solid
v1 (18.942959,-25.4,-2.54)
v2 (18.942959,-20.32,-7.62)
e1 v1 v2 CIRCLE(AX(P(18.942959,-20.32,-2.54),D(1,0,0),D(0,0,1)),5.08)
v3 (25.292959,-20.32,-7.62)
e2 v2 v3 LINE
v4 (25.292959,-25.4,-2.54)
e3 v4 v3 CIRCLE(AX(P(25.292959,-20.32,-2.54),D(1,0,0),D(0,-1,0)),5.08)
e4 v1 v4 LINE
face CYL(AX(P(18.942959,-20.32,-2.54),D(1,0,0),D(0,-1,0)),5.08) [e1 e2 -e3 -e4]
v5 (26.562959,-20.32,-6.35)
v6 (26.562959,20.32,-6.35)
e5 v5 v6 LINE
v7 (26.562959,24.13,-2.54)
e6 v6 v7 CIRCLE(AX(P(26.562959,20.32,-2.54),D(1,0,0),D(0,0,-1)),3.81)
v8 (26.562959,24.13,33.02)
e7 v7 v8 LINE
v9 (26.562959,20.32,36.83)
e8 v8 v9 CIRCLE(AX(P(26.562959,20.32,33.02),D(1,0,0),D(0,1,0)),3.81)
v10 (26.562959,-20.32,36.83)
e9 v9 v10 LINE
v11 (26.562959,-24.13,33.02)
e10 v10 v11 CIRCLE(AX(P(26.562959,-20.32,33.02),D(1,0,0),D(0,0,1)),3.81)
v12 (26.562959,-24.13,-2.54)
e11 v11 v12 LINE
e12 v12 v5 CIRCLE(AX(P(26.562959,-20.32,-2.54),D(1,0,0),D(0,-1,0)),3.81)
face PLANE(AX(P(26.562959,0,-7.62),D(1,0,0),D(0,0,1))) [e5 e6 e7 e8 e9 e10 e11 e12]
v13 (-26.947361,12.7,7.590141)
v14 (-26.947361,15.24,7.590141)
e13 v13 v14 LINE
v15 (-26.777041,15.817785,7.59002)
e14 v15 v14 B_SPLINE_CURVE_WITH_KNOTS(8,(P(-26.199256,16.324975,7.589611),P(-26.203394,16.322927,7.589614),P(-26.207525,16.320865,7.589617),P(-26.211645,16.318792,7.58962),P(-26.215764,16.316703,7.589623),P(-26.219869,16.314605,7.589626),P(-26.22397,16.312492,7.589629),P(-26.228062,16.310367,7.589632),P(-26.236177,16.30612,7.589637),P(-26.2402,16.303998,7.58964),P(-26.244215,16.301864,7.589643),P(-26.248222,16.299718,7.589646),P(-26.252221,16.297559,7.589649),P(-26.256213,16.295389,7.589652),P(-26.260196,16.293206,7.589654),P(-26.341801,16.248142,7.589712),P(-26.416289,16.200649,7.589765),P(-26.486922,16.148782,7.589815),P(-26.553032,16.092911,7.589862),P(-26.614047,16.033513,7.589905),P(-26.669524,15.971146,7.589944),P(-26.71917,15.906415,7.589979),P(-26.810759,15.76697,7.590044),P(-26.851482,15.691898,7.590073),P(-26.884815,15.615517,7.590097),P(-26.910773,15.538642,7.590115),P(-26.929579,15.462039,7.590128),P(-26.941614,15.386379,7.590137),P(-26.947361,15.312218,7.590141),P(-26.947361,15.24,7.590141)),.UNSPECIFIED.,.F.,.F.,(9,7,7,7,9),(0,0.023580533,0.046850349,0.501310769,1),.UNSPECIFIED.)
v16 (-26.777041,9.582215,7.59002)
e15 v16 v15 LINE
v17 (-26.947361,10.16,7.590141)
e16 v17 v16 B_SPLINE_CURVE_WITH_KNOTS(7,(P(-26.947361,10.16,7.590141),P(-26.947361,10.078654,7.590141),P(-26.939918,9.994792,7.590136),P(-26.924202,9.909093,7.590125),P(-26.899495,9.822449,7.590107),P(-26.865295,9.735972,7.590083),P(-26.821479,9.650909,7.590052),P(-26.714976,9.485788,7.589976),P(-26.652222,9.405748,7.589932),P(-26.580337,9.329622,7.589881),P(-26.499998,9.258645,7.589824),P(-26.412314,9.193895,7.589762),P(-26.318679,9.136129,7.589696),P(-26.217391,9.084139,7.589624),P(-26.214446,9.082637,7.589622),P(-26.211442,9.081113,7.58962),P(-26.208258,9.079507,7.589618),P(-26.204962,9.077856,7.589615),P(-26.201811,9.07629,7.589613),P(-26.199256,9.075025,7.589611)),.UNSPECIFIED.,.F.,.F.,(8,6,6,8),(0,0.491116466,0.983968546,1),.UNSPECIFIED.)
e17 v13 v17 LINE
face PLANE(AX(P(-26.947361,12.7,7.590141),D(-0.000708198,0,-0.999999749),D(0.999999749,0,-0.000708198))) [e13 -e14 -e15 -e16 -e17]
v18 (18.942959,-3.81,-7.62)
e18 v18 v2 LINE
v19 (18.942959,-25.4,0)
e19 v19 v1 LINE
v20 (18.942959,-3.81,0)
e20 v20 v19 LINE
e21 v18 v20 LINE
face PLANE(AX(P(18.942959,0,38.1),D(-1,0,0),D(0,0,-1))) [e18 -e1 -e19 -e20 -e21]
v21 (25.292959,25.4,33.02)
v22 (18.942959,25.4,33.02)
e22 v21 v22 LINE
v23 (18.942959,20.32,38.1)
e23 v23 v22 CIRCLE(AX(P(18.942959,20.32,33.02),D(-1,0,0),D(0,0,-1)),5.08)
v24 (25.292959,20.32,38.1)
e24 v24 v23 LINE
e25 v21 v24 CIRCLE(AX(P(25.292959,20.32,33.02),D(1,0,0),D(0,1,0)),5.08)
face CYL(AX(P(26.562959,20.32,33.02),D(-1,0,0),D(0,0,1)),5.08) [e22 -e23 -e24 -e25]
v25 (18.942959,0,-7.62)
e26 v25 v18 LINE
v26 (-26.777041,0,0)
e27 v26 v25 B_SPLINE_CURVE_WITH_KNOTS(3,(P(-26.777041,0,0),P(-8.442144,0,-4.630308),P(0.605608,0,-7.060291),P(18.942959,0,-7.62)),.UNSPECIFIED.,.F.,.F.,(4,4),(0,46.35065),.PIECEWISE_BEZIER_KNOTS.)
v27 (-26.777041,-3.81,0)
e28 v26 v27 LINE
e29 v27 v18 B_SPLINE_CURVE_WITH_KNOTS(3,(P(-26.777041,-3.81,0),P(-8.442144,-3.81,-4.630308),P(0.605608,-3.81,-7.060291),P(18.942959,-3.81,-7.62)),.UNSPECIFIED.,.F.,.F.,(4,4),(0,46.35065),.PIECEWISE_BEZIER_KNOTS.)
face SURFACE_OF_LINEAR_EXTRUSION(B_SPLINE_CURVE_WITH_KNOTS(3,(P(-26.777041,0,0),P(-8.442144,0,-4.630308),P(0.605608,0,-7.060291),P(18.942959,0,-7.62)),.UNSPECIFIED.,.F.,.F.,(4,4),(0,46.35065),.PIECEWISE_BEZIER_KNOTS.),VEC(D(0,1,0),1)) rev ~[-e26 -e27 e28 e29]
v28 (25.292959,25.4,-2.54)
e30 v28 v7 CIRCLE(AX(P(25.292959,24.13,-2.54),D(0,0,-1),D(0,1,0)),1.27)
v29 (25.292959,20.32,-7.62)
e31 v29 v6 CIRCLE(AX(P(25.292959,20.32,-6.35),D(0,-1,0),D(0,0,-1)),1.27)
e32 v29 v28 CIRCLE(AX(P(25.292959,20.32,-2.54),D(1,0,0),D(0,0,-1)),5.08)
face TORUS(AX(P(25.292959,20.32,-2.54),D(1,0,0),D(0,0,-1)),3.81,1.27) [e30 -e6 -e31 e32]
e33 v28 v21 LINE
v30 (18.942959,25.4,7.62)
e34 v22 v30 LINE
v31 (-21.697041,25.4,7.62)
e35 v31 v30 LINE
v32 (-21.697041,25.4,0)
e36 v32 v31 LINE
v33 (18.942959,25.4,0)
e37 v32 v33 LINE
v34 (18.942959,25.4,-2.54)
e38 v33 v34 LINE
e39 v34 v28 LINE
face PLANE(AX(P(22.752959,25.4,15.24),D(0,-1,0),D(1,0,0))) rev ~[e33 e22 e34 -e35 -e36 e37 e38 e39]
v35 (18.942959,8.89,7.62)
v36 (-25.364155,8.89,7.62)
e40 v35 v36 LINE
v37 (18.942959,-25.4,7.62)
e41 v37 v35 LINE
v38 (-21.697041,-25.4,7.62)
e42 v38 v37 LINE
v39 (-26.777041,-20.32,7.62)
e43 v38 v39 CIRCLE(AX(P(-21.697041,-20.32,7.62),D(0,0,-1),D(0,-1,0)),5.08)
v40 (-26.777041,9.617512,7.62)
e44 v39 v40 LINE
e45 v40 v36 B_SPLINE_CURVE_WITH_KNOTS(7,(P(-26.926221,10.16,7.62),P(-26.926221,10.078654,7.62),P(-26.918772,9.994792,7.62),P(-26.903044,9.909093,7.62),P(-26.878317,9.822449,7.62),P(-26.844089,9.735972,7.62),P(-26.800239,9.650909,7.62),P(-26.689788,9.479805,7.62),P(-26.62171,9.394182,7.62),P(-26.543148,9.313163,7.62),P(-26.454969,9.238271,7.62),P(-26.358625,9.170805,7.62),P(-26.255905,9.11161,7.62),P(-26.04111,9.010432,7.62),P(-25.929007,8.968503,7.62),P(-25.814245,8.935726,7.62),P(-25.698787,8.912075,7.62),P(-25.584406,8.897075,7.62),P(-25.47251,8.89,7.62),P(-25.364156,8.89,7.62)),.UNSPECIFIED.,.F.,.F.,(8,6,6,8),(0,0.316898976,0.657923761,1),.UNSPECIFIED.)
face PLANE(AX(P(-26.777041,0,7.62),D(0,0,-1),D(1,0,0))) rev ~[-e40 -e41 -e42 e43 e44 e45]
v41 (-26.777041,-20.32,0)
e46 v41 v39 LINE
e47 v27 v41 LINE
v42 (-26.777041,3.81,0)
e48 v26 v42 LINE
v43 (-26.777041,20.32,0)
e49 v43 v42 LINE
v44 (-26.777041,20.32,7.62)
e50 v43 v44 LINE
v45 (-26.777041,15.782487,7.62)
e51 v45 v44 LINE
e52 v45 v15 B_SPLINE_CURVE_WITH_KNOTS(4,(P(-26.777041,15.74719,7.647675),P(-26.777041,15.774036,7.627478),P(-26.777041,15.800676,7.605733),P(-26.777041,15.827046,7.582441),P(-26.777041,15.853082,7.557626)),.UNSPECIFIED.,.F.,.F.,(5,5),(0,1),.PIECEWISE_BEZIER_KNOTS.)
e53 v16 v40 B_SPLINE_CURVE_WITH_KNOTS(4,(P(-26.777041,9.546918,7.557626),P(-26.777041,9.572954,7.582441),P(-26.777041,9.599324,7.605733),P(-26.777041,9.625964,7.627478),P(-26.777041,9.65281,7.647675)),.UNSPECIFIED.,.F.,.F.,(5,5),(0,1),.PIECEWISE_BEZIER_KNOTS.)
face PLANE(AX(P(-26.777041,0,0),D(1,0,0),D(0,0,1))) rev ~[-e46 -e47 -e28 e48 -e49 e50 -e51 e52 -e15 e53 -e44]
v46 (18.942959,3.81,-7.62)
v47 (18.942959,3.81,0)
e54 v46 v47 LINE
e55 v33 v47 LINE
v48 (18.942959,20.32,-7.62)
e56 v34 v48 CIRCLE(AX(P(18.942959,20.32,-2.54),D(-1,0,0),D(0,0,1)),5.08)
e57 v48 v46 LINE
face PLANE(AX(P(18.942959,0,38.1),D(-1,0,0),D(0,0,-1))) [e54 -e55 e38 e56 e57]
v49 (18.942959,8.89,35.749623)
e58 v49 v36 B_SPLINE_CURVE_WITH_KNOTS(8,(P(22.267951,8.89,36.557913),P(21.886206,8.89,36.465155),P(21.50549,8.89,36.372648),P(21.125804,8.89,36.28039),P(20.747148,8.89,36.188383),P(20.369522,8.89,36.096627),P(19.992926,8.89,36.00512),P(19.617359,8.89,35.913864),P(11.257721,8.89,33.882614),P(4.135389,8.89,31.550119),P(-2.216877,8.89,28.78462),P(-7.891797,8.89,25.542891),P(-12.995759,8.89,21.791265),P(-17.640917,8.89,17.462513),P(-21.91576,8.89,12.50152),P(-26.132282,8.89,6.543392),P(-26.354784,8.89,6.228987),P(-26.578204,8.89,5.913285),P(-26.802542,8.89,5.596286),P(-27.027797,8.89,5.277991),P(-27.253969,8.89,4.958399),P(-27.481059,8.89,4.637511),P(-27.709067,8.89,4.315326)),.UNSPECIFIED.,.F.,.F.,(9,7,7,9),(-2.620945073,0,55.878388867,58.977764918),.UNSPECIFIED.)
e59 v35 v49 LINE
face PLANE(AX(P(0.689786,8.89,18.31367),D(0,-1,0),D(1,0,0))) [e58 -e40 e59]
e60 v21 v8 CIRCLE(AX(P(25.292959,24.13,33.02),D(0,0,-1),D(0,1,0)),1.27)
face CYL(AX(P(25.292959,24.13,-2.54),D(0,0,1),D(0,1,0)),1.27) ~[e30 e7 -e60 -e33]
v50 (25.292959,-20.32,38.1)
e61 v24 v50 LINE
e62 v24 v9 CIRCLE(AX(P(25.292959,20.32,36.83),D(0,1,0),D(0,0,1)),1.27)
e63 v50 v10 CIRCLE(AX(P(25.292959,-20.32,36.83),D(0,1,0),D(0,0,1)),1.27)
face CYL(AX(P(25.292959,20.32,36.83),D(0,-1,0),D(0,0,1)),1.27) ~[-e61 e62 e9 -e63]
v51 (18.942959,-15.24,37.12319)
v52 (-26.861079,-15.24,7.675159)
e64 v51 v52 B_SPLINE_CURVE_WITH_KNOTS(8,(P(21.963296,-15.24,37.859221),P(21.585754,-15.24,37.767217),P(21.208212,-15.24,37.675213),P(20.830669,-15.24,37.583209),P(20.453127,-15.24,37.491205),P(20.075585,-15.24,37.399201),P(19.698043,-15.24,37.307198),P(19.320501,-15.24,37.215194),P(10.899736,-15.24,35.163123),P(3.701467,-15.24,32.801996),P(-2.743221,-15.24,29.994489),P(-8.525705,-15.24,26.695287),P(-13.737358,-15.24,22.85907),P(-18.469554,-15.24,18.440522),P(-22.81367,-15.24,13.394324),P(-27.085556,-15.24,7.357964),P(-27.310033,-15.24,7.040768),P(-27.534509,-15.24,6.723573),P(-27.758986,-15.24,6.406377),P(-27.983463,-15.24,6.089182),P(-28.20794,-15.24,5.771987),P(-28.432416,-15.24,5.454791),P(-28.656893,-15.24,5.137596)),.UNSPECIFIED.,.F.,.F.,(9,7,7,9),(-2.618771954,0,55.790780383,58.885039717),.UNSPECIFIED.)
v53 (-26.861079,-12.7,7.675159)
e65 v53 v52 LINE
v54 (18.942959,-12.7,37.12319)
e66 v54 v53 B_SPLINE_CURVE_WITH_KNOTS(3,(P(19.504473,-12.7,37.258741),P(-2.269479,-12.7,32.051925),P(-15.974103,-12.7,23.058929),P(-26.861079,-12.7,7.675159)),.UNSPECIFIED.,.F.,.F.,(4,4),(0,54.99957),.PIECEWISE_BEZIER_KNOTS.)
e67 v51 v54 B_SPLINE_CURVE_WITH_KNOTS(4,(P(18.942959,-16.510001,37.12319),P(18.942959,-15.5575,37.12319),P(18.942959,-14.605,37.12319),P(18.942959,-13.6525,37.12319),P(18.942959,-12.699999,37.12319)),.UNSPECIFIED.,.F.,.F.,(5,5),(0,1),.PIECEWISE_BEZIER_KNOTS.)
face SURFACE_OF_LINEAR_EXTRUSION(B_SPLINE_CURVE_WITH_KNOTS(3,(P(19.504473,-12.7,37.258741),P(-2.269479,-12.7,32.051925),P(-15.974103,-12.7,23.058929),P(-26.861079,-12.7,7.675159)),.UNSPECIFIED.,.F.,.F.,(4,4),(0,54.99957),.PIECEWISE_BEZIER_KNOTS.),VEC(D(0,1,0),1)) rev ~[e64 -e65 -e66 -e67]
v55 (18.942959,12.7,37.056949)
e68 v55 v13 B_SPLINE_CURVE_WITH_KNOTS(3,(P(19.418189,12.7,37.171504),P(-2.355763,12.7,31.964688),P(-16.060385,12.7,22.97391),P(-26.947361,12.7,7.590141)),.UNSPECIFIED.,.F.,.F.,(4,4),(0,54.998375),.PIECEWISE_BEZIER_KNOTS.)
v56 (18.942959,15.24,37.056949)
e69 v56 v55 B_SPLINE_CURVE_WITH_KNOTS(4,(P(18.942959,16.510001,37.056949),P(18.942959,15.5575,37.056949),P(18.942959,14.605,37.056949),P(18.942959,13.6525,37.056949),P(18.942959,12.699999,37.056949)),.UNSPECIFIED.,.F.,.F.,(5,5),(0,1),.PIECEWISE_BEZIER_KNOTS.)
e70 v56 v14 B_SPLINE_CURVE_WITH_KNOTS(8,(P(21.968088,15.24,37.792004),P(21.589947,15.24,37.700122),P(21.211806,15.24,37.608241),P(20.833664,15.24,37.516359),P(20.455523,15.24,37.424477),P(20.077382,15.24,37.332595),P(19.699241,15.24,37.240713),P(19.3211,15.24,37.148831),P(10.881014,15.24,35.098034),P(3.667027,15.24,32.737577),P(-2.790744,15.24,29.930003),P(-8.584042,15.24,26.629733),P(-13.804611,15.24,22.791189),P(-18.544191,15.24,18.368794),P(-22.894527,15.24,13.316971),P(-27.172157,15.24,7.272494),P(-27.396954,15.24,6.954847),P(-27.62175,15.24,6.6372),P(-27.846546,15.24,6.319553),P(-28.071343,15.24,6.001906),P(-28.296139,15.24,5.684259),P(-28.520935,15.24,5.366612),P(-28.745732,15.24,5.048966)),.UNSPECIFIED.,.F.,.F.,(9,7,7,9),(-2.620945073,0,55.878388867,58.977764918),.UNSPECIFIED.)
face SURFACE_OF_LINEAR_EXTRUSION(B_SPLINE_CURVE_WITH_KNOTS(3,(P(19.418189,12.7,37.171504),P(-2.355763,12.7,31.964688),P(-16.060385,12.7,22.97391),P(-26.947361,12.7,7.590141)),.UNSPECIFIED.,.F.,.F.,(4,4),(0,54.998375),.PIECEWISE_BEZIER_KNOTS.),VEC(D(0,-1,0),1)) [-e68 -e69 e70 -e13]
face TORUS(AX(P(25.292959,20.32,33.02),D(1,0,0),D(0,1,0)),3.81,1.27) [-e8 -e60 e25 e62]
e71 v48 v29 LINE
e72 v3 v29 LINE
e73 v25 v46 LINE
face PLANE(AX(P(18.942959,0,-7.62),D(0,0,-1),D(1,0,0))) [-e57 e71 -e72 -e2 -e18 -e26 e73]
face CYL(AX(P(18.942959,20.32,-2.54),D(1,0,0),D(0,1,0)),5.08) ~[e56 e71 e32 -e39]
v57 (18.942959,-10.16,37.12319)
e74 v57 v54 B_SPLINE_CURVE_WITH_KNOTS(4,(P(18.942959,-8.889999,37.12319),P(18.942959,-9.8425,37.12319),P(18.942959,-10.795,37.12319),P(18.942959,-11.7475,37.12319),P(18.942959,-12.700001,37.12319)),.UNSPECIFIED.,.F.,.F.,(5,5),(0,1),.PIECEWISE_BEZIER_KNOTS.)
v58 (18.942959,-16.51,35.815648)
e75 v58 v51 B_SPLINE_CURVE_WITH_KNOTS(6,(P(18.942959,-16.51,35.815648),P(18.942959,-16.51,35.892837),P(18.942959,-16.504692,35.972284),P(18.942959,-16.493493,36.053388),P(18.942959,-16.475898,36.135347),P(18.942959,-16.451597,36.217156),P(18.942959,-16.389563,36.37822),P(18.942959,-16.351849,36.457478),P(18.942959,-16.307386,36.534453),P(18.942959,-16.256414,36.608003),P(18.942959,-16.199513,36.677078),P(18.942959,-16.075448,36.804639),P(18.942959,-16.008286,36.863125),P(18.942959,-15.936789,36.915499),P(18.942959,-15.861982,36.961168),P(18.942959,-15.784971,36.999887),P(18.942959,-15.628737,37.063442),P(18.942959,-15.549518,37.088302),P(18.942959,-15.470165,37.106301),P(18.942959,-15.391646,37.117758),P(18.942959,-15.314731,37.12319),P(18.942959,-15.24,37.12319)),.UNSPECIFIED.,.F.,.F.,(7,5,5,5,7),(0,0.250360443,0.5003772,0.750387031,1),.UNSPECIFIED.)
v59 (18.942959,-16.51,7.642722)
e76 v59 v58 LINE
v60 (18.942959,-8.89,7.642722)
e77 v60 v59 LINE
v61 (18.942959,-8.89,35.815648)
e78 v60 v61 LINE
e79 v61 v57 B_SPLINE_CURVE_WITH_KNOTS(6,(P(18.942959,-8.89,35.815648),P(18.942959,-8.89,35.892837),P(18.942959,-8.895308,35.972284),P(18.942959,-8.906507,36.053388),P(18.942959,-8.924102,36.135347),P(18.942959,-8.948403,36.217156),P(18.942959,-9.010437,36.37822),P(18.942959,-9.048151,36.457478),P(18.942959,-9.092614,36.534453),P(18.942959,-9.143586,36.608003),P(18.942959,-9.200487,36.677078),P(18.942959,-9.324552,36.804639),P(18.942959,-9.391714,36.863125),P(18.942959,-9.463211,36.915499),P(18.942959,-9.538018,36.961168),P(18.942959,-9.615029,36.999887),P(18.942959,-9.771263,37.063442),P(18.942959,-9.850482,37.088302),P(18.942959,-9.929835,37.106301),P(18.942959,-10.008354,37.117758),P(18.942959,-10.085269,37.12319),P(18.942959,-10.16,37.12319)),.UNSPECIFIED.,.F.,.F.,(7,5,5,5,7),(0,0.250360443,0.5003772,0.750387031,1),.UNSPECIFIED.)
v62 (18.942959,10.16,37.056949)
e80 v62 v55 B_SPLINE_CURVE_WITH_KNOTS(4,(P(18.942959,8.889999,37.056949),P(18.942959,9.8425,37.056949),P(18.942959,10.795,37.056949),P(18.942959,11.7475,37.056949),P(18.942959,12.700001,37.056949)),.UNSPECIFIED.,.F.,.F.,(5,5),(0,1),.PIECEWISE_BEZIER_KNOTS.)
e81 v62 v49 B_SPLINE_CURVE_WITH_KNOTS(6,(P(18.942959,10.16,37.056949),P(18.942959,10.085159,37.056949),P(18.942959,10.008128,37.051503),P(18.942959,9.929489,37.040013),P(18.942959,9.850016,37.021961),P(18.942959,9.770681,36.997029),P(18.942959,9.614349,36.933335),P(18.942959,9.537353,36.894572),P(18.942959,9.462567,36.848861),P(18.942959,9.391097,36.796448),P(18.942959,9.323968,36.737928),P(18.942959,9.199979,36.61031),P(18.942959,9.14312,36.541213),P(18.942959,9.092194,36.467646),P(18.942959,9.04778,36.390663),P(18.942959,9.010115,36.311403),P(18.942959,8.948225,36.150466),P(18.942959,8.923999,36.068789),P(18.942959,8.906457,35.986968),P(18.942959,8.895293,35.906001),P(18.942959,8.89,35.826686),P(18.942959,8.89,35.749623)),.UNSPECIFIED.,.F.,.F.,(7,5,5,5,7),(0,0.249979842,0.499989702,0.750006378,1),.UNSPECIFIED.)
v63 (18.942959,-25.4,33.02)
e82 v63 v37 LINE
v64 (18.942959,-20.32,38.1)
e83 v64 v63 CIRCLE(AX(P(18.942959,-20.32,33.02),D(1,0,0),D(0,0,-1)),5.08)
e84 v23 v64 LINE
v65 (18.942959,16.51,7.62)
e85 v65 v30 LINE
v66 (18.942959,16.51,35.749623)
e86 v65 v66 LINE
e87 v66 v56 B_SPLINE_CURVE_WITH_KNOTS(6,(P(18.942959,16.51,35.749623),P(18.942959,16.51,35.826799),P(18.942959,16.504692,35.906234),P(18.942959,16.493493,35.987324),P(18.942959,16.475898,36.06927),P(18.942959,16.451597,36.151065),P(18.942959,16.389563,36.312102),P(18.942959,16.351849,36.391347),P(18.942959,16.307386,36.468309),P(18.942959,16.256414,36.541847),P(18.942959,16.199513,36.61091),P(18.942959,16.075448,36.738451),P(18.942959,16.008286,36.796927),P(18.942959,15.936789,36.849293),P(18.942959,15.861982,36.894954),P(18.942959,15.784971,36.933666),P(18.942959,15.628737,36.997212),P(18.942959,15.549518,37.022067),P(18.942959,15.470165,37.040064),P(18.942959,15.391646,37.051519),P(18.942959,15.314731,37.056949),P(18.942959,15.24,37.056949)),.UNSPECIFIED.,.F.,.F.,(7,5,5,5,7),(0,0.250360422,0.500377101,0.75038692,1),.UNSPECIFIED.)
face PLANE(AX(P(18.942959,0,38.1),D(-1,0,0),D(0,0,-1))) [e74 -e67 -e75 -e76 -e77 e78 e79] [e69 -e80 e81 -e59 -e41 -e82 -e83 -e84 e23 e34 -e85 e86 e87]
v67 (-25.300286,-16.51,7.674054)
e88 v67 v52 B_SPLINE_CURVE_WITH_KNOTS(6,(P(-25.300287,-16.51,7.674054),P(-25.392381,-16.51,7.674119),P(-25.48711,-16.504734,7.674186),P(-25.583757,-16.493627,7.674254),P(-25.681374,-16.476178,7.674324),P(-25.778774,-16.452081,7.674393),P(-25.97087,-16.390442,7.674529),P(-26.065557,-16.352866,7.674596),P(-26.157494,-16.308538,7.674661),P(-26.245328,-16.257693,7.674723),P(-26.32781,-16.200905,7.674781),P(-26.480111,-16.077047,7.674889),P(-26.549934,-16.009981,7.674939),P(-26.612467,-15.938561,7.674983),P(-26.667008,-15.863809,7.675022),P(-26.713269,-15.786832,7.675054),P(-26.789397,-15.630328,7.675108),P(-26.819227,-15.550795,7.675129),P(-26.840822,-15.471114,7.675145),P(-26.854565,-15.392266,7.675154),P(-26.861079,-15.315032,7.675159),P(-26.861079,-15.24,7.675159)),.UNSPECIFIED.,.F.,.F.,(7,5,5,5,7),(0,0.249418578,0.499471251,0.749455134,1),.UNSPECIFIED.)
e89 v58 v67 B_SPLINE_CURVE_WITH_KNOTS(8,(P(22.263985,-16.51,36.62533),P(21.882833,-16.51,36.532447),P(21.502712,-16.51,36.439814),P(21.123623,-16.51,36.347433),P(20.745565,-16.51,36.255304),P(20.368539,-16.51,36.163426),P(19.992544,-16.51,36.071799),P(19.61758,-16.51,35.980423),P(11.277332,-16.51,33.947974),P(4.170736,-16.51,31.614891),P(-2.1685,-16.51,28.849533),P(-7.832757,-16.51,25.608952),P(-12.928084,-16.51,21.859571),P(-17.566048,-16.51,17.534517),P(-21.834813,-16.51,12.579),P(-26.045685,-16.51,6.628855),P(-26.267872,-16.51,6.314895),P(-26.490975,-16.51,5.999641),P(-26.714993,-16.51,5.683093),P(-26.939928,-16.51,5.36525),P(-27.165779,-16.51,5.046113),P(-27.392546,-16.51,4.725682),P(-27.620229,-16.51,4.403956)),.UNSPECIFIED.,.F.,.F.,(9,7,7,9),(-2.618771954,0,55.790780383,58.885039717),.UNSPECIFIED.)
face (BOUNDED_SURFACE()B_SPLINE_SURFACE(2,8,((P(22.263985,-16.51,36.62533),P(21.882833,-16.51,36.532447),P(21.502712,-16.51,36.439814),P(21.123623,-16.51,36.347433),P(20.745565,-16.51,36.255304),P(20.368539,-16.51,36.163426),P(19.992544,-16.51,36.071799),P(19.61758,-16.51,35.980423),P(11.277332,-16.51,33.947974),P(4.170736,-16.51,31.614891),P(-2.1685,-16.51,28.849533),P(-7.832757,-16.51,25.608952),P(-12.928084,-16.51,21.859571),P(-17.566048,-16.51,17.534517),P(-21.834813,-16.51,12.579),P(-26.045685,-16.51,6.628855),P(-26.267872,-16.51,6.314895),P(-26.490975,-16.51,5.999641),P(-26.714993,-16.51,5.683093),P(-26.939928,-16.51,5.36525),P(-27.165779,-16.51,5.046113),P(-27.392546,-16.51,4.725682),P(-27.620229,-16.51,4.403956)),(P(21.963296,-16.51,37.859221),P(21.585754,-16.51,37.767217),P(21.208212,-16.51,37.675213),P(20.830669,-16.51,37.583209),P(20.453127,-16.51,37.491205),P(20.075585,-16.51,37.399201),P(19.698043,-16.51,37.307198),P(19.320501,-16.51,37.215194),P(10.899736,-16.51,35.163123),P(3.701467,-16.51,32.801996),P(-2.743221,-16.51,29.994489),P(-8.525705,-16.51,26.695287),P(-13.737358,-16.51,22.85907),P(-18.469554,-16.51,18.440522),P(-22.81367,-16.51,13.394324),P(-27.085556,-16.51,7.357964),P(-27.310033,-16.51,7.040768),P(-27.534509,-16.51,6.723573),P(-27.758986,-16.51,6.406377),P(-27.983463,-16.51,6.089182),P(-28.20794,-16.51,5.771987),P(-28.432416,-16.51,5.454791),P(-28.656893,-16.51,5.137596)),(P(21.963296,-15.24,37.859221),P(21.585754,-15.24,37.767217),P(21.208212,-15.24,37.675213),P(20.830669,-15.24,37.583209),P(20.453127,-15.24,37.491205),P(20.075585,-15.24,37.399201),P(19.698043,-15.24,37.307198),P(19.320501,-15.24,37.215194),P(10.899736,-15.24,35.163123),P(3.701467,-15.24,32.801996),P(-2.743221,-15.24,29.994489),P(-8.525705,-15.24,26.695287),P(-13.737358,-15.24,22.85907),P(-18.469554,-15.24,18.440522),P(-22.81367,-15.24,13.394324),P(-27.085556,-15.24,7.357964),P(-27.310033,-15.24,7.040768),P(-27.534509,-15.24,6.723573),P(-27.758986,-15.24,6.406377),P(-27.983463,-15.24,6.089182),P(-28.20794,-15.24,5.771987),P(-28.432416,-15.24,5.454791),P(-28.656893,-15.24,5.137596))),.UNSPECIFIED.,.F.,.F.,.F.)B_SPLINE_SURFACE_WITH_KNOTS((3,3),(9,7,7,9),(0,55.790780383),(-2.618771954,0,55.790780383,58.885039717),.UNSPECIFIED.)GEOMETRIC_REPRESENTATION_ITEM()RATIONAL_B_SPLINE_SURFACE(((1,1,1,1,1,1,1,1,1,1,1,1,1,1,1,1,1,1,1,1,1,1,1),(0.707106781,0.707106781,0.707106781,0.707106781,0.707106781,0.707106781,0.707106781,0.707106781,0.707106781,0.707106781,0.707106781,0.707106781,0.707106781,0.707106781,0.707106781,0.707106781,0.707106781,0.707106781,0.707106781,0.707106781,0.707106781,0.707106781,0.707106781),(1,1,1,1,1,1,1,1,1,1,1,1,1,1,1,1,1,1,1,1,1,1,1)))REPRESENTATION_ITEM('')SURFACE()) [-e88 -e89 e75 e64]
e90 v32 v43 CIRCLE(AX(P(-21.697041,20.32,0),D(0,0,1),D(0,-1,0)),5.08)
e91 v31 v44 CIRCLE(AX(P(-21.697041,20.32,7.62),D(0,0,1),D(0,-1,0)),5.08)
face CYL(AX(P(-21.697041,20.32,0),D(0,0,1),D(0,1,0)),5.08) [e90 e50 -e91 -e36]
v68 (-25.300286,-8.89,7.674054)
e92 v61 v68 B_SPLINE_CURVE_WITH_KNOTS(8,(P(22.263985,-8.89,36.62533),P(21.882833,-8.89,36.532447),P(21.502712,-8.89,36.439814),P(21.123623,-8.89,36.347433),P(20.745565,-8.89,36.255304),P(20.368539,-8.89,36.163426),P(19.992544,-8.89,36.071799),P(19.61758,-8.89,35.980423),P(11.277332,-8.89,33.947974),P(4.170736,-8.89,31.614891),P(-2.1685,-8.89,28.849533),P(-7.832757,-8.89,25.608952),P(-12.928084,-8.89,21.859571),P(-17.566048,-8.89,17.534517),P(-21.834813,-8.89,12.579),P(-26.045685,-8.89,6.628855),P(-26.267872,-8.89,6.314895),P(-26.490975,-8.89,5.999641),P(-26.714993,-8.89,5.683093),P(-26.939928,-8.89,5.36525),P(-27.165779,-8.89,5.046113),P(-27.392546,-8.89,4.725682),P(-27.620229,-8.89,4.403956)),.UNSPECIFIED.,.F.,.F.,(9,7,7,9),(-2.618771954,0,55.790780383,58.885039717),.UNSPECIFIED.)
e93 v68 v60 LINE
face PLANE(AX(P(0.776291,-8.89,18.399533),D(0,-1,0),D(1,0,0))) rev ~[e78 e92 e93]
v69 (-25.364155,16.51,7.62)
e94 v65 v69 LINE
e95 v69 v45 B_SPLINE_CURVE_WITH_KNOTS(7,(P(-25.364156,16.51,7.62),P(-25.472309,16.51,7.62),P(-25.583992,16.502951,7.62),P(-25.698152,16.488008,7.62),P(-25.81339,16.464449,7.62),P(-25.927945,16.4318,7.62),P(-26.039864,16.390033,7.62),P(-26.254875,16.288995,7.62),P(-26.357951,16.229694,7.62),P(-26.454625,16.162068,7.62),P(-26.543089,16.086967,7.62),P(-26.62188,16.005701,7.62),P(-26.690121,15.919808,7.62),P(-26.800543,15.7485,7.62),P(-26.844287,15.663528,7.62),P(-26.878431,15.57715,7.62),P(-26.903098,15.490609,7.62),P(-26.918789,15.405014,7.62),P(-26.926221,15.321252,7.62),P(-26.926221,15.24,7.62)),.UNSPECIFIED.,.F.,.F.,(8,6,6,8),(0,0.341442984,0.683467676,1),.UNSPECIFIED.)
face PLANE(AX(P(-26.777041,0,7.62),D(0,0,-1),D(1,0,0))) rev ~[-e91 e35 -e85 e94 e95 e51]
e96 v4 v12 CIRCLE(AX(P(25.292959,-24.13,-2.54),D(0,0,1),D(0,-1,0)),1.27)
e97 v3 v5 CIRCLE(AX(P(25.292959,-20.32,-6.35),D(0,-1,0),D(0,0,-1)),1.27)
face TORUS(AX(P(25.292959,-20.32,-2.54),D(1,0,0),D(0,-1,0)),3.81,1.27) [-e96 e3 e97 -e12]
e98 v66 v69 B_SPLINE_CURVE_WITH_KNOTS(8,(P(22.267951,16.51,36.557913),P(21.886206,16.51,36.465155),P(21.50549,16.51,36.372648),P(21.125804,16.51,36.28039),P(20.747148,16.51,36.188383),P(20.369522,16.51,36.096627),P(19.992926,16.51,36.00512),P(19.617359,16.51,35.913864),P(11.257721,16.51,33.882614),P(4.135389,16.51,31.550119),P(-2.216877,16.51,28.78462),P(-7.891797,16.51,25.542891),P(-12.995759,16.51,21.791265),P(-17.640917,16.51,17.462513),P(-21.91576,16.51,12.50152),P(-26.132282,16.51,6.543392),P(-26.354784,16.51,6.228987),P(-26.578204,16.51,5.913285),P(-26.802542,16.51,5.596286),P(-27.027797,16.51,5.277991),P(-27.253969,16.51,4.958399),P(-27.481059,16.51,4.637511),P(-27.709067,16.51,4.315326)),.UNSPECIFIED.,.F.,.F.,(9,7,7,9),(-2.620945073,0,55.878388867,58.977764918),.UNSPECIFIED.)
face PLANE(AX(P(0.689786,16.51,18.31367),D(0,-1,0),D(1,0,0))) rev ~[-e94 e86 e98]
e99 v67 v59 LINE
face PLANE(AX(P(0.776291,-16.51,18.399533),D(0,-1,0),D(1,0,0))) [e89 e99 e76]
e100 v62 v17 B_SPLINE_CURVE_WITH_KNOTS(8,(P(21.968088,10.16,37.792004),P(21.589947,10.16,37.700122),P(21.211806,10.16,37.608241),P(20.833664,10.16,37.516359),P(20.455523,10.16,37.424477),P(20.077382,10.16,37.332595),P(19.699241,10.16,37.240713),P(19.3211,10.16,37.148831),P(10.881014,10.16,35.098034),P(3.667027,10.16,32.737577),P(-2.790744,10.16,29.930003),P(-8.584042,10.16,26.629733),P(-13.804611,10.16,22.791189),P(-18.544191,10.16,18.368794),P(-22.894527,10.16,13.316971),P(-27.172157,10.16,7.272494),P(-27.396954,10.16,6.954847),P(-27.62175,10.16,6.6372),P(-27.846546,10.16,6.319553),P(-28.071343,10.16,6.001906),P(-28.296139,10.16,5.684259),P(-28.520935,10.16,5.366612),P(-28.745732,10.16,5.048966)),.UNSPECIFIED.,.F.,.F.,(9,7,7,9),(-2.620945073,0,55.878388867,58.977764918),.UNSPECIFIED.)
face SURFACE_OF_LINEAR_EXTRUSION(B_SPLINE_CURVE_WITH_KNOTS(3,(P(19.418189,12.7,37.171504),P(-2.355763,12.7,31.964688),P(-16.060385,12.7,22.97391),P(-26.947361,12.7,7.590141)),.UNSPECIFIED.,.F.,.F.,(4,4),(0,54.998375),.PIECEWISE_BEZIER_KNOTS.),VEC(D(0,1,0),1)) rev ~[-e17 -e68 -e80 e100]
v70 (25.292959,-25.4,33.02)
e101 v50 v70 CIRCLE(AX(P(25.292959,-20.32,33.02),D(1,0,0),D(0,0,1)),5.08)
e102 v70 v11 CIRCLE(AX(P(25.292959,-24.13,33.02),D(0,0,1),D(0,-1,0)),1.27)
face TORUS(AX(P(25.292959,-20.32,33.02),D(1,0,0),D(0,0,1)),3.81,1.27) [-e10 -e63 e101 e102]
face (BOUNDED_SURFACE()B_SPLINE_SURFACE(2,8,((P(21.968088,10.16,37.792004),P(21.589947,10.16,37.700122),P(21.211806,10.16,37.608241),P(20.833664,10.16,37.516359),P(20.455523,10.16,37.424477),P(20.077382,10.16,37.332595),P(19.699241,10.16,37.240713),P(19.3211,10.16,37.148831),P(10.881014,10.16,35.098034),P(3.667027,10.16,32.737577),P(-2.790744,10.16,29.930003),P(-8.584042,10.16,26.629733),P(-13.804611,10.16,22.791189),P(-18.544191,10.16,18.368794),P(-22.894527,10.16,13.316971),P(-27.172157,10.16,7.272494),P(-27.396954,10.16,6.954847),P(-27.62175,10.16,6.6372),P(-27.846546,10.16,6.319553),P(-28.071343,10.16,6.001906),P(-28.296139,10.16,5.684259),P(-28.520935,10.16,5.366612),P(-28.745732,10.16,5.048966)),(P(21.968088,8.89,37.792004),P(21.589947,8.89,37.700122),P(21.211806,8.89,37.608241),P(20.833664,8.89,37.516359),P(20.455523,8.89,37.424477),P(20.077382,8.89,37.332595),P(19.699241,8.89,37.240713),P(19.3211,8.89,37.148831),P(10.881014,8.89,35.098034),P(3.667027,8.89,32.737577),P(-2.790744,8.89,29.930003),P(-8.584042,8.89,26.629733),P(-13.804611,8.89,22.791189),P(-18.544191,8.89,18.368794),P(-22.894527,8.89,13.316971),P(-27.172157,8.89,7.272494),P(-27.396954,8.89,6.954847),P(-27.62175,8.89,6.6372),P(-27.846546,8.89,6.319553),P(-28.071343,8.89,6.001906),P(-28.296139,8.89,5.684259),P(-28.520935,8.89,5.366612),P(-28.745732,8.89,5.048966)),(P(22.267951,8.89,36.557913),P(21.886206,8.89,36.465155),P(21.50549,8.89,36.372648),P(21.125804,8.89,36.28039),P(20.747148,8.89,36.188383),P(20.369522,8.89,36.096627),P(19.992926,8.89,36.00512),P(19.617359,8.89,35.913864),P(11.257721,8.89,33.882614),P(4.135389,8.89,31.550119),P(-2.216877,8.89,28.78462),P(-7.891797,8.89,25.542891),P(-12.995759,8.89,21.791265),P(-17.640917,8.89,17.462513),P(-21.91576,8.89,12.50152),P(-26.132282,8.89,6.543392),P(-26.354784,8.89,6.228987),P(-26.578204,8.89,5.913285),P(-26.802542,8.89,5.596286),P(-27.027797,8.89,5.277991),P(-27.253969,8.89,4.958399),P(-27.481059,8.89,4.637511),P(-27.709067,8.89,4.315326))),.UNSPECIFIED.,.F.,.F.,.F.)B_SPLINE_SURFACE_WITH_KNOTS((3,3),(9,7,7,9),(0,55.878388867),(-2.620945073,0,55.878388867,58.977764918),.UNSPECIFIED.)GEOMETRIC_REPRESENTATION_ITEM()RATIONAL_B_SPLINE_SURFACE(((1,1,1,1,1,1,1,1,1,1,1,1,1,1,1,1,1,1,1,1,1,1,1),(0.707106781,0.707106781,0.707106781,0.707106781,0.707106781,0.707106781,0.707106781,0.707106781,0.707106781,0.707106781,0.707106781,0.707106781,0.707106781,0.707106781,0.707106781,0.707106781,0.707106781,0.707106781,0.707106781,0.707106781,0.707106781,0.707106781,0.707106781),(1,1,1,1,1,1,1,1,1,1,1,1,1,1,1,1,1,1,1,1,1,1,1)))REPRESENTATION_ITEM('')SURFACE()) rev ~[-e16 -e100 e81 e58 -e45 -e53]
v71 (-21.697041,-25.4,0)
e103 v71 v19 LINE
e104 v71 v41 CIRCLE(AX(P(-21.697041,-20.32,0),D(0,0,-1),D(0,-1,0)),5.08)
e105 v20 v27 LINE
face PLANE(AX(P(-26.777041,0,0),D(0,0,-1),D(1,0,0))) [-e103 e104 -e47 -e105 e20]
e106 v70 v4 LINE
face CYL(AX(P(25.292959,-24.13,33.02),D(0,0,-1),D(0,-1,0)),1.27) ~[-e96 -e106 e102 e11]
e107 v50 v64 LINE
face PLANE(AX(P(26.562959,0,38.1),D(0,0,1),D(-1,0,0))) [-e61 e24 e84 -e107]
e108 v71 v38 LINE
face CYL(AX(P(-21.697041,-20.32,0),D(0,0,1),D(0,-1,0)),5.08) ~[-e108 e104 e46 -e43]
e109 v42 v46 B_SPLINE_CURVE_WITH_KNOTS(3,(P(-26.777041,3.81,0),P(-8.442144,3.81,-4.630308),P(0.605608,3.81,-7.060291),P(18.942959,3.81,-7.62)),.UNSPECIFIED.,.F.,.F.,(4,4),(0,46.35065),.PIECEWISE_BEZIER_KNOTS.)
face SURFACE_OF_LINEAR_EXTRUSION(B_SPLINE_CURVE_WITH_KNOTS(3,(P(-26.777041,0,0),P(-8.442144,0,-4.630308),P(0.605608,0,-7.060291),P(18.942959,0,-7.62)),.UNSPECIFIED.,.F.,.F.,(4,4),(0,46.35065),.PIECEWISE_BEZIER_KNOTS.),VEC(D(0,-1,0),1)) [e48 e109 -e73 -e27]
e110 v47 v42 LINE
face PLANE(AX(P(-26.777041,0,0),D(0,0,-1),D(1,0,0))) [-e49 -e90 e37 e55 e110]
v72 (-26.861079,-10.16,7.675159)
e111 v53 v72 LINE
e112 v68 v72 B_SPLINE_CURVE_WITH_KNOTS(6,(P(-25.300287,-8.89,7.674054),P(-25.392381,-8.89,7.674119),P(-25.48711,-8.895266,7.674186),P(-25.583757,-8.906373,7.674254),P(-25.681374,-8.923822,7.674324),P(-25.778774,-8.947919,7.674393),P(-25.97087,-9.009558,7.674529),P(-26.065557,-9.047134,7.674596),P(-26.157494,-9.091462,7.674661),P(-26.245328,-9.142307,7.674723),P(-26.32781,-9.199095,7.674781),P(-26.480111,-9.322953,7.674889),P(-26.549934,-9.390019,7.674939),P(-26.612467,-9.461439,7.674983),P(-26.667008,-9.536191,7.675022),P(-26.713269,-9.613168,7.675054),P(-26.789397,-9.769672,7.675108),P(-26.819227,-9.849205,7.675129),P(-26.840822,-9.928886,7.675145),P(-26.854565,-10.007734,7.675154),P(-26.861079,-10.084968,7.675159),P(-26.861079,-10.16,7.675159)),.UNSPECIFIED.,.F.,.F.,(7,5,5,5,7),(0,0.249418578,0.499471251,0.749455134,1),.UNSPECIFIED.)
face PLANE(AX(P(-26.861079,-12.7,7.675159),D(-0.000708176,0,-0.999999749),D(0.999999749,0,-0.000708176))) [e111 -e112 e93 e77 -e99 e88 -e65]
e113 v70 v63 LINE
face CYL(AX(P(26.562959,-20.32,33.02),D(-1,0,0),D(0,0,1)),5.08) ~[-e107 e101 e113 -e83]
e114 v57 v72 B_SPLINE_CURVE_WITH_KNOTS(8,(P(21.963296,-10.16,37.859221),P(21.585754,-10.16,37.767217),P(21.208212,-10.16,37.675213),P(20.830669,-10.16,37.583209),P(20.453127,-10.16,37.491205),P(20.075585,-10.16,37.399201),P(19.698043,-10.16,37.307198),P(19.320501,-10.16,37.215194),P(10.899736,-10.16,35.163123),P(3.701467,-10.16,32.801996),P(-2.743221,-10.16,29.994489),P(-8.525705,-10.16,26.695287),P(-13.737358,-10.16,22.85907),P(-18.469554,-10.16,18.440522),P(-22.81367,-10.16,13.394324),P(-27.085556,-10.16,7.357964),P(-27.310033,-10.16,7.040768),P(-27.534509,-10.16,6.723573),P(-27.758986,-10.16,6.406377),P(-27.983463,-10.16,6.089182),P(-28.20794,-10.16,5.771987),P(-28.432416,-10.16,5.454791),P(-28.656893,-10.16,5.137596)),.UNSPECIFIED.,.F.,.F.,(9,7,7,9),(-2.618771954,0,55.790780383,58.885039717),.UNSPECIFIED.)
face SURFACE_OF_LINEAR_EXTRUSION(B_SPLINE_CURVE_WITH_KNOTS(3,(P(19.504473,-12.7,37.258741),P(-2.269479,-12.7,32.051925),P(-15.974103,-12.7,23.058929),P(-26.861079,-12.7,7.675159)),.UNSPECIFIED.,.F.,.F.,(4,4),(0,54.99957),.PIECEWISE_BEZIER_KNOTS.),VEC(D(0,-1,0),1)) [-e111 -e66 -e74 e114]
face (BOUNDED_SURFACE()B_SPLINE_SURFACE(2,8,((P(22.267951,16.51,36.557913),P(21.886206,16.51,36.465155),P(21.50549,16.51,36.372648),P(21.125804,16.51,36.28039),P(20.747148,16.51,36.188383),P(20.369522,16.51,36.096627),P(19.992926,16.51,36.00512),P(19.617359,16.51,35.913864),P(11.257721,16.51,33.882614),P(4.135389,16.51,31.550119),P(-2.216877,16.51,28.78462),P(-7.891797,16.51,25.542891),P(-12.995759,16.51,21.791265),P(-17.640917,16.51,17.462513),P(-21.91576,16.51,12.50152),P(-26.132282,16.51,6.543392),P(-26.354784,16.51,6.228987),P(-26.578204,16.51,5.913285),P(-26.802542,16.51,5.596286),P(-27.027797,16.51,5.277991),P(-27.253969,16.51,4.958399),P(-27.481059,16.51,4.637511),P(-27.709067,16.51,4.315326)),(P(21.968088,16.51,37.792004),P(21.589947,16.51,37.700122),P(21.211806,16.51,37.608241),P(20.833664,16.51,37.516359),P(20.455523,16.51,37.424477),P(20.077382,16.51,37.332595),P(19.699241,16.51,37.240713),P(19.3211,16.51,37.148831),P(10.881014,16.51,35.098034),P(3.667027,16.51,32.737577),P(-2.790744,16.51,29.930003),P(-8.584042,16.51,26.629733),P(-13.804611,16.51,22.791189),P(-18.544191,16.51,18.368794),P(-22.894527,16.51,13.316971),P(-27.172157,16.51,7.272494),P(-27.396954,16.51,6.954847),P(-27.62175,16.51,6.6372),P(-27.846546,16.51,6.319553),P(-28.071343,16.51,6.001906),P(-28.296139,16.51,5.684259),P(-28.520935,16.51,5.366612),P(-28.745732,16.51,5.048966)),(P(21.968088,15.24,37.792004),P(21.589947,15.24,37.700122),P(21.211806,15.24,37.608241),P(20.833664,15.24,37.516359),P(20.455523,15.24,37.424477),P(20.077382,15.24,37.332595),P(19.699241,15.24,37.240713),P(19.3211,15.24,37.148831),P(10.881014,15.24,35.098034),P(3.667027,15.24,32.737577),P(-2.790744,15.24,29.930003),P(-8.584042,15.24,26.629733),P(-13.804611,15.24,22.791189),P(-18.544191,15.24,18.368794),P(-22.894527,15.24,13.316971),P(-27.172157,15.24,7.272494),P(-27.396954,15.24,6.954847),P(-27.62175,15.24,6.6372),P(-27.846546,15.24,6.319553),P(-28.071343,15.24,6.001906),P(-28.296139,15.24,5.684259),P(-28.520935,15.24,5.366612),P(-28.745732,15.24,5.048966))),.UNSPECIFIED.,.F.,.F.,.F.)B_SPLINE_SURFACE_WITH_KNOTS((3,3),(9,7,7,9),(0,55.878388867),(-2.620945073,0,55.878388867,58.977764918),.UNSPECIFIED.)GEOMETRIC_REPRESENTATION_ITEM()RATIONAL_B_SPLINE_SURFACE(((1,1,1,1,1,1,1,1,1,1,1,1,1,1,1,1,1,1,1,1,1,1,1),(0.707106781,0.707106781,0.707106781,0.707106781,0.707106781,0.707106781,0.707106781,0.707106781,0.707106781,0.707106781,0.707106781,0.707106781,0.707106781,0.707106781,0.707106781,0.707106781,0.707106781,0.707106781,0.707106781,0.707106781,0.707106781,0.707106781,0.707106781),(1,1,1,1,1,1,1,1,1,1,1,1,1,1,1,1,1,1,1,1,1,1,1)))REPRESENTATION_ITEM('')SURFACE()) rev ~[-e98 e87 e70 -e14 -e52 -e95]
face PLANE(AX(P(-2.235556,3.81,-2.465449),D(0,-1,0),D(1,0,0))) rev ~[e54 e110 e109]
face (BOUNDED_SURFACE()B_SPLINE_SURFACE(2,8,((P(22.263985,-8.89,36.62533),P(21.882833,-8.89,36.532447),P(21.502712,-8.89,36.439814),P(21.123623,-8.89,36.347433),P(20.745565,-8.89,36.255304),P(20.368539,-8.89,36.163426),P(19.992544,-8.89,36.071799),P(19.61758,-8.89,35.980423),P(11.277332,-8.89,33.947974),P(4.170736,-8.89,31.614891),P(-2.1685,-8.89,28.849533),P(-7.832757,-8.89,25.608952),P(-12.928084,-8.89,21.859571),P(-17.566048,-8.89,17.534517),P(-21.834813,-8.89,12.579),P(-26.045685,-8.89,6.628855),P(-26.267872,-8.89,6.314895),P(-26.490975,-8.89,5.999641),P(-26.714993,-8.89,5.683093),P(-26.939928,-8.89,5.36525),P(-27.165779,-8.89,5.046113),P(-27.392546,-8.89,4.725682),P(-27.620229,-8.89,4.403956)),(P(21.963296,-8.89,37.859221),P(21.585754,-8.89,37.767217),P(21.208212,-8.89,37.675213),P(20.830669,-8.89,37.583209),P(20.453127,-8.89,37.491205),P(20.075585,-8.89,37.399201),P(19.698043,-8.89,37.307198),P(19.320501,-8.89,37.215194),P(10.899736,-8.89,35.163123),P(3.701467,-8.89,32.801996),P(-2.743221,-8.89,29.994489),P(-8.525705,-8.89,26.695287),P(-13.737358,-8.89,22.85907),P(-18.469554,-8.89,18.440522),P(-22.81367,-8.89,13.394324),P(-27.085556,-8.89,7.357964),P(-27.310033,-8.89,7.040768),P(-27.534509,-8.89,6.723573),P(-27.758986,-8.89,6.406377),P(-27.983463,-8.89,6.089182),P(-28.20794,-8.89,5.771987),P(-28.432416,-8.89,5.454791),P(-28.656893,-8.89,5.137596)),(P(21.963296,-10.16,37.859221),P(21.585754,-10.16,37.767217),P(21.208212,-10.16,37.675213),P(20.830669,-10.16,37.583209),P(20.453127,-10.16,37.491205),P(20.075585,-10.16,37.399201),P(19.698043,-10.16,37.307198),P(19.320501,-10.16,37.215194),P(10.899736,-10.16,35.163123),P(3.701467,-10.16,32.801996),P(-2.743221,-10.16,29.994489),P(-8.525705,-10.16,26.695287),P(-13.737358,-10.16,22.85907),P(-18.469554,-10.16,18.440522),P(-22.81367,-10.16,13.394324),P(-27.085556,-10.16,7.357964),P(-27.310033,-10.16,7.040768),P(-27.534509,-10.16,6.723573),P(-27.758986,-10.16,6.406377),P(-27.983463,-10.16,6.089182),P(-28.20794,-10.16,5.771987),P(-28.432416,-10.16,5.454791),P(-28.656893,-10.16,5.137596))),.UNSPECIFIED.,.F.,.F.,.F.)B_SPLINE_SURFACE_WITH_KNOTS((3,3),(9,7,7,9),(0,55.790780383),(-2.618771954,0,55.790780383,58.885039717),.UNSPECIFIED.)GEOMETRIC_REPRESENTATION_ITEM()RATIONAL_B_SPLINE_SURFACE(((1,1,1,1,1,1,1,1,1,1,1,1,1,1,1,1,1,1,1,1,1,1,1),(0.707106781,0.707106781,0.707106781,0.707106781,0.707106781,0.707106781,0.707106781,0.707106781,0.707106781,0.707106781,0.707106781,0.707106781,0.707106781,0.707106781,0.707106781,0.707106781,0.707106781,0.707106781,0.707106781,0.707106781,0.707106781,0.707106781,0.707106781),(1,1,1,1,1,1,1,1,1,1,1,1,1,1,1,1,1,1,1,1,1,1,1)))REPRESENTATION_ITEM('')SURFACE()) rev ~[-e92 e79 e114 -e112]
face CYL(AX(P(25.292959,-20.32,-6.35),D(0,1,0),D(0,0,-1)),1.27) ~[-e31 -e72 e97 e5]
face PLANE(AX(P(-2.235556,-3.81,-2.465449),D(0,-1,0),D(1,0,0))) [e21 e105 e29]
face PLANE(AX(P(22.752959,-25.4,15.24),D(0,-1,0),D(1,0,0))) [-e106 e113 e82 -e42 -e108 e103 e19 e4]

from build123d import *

# Parameters (mm, degrees)
F0_W      = 45.72
F0_H      = 7.62
F1_DEPTH  = 25.4
F2_DEPTH  = 25.4
F3_DEPTH  = 3.81
F4_R      = 5.08
F7_DEPTH  = 3.81
F10_DEPTH = 3.81
F11_R     = 1.27


with BuildPart() as f1:
    # F0 (on Front) → F1 (new body, symmetric)
    with BuildSketch(Plane.XZ):
        with Locations((-3.917041, 3.81)):
            Rectangle(F0_W, F0_H)
    extrude(amount=F1_DEPTH, both=True)

    # F0 (on Front) → F2 (join, symmetric)
    with BuildSketch(Plane.XZ):
        Polygon((26.562959, 38.1), (18.942959, 38.1), (18.942959, 7.62), (18.942959, 0), (18.942959, -7.62), (26.562959, -7.62), align=None)
    extrude(amount=F2_DEPTH, both=True)

    # F0 (on Front) → F3 (join, symmetric)
    with BuildSketch(Plane.XZ):
        with BuildLine():
            Line((18.942959, -7.62), (18.942959, 0))
            Line((18.942959, 0), (-26.777041, 0))
            add(Edge.make_bspline(
                [(-26.777041, 0), (-8.442144, -4.630308), (0.605608, -7.060291), (18.942959, -7.62)],
                knots=[0, 0, 0, 0, 46.35065, 46.35065, 46.35065, 46.35065], degree=3))
        make_face()
    extrude(amount=F3_DEPTH, both=True)

    # F4
    f4_edges = [f1.edges().sort_by_distance(p)[0] for p in [
        (22.752959, -25.4, -7.62),
        (22.752959, 25.4, -7.62),
        (22.752959, 25.4, 38.1),
        (22.752959, -25.4, 38.1),
        (-26.777041, 25.4, 3.81),
        (-26.777041, -25.4, 3.81),
    ]]
    fillet(f4_edges, radius=F4_R)

    # F6 (on offset) → F7 (join, symmetric)
    with BuildSketch(Plane.XZ.offset(12.7)):
        with BuildLine():
            Line((19.504473, 7.642324), (19.504473, 37.258741))
            add(Edge.make_bspline(
                [(19.504473, 37.258741), (-2.269479, 32.051925), (-15.974103, 23.058929), (-26.861079, 7.675159)],
                knots=[0, 0, 0, 0, 54.99957, 54.99957, 54.99957, 54.99957], degree=3))
            Line((-26.861079, 7.675159), (19.504473, 7.642324))
        make_face()
    extrude(amount=F7_DEPTH, both=True)

    # F9 (on offset) → F10 (join, symmetric)
    with BuildSketch(Plane.XZ.offset(-12.7)):
        with BuildLine():
            Line((19.418189, 7.557305), (19.418189, 37.171504))
            add(Edge.make_bspline(
                [(19.418189, 37.171504), (-2.355763, 31.964688), (-16.060385, 22.97391), (-26.947361, 7.590141)],
                knots=[0, 0, 0, 0, 54.998375, 54.998375, 54.998375, 54.998375], degree=3))
            Line((-26.947361, 7.590141), (19.418189, 7.557305))
        make_face()
    extrude(amount=F10_DEPTH, both=True)

    # F11
    f11_edges = [f1.edges().sort_by_distance(p)[0] for p in [
        (26.562959, 25.4, 15.24),
        (26.562959, 23.912102, -6.132102),
        (26.562959, 23.912102, 36.612102),
        (26.562959, 0, -7.62),
        (26.562959, 0, 38.1),
        (26.562959, -23.912102, -6.132102),
        (26.562959, -23.912102, 36.612102),
        (26.562959, -25.4, 15.24),
        (-6.865306, -16.51, 26.848425),
        (-6.865306, -8.89, 26.848425),
        (-6.913699, 16.51, 26.785701),
        (-6.913699, 8.89, 26.785701),
    ]]
    fillet(f11_edges, radius=F11_R)


solid = f1.part
